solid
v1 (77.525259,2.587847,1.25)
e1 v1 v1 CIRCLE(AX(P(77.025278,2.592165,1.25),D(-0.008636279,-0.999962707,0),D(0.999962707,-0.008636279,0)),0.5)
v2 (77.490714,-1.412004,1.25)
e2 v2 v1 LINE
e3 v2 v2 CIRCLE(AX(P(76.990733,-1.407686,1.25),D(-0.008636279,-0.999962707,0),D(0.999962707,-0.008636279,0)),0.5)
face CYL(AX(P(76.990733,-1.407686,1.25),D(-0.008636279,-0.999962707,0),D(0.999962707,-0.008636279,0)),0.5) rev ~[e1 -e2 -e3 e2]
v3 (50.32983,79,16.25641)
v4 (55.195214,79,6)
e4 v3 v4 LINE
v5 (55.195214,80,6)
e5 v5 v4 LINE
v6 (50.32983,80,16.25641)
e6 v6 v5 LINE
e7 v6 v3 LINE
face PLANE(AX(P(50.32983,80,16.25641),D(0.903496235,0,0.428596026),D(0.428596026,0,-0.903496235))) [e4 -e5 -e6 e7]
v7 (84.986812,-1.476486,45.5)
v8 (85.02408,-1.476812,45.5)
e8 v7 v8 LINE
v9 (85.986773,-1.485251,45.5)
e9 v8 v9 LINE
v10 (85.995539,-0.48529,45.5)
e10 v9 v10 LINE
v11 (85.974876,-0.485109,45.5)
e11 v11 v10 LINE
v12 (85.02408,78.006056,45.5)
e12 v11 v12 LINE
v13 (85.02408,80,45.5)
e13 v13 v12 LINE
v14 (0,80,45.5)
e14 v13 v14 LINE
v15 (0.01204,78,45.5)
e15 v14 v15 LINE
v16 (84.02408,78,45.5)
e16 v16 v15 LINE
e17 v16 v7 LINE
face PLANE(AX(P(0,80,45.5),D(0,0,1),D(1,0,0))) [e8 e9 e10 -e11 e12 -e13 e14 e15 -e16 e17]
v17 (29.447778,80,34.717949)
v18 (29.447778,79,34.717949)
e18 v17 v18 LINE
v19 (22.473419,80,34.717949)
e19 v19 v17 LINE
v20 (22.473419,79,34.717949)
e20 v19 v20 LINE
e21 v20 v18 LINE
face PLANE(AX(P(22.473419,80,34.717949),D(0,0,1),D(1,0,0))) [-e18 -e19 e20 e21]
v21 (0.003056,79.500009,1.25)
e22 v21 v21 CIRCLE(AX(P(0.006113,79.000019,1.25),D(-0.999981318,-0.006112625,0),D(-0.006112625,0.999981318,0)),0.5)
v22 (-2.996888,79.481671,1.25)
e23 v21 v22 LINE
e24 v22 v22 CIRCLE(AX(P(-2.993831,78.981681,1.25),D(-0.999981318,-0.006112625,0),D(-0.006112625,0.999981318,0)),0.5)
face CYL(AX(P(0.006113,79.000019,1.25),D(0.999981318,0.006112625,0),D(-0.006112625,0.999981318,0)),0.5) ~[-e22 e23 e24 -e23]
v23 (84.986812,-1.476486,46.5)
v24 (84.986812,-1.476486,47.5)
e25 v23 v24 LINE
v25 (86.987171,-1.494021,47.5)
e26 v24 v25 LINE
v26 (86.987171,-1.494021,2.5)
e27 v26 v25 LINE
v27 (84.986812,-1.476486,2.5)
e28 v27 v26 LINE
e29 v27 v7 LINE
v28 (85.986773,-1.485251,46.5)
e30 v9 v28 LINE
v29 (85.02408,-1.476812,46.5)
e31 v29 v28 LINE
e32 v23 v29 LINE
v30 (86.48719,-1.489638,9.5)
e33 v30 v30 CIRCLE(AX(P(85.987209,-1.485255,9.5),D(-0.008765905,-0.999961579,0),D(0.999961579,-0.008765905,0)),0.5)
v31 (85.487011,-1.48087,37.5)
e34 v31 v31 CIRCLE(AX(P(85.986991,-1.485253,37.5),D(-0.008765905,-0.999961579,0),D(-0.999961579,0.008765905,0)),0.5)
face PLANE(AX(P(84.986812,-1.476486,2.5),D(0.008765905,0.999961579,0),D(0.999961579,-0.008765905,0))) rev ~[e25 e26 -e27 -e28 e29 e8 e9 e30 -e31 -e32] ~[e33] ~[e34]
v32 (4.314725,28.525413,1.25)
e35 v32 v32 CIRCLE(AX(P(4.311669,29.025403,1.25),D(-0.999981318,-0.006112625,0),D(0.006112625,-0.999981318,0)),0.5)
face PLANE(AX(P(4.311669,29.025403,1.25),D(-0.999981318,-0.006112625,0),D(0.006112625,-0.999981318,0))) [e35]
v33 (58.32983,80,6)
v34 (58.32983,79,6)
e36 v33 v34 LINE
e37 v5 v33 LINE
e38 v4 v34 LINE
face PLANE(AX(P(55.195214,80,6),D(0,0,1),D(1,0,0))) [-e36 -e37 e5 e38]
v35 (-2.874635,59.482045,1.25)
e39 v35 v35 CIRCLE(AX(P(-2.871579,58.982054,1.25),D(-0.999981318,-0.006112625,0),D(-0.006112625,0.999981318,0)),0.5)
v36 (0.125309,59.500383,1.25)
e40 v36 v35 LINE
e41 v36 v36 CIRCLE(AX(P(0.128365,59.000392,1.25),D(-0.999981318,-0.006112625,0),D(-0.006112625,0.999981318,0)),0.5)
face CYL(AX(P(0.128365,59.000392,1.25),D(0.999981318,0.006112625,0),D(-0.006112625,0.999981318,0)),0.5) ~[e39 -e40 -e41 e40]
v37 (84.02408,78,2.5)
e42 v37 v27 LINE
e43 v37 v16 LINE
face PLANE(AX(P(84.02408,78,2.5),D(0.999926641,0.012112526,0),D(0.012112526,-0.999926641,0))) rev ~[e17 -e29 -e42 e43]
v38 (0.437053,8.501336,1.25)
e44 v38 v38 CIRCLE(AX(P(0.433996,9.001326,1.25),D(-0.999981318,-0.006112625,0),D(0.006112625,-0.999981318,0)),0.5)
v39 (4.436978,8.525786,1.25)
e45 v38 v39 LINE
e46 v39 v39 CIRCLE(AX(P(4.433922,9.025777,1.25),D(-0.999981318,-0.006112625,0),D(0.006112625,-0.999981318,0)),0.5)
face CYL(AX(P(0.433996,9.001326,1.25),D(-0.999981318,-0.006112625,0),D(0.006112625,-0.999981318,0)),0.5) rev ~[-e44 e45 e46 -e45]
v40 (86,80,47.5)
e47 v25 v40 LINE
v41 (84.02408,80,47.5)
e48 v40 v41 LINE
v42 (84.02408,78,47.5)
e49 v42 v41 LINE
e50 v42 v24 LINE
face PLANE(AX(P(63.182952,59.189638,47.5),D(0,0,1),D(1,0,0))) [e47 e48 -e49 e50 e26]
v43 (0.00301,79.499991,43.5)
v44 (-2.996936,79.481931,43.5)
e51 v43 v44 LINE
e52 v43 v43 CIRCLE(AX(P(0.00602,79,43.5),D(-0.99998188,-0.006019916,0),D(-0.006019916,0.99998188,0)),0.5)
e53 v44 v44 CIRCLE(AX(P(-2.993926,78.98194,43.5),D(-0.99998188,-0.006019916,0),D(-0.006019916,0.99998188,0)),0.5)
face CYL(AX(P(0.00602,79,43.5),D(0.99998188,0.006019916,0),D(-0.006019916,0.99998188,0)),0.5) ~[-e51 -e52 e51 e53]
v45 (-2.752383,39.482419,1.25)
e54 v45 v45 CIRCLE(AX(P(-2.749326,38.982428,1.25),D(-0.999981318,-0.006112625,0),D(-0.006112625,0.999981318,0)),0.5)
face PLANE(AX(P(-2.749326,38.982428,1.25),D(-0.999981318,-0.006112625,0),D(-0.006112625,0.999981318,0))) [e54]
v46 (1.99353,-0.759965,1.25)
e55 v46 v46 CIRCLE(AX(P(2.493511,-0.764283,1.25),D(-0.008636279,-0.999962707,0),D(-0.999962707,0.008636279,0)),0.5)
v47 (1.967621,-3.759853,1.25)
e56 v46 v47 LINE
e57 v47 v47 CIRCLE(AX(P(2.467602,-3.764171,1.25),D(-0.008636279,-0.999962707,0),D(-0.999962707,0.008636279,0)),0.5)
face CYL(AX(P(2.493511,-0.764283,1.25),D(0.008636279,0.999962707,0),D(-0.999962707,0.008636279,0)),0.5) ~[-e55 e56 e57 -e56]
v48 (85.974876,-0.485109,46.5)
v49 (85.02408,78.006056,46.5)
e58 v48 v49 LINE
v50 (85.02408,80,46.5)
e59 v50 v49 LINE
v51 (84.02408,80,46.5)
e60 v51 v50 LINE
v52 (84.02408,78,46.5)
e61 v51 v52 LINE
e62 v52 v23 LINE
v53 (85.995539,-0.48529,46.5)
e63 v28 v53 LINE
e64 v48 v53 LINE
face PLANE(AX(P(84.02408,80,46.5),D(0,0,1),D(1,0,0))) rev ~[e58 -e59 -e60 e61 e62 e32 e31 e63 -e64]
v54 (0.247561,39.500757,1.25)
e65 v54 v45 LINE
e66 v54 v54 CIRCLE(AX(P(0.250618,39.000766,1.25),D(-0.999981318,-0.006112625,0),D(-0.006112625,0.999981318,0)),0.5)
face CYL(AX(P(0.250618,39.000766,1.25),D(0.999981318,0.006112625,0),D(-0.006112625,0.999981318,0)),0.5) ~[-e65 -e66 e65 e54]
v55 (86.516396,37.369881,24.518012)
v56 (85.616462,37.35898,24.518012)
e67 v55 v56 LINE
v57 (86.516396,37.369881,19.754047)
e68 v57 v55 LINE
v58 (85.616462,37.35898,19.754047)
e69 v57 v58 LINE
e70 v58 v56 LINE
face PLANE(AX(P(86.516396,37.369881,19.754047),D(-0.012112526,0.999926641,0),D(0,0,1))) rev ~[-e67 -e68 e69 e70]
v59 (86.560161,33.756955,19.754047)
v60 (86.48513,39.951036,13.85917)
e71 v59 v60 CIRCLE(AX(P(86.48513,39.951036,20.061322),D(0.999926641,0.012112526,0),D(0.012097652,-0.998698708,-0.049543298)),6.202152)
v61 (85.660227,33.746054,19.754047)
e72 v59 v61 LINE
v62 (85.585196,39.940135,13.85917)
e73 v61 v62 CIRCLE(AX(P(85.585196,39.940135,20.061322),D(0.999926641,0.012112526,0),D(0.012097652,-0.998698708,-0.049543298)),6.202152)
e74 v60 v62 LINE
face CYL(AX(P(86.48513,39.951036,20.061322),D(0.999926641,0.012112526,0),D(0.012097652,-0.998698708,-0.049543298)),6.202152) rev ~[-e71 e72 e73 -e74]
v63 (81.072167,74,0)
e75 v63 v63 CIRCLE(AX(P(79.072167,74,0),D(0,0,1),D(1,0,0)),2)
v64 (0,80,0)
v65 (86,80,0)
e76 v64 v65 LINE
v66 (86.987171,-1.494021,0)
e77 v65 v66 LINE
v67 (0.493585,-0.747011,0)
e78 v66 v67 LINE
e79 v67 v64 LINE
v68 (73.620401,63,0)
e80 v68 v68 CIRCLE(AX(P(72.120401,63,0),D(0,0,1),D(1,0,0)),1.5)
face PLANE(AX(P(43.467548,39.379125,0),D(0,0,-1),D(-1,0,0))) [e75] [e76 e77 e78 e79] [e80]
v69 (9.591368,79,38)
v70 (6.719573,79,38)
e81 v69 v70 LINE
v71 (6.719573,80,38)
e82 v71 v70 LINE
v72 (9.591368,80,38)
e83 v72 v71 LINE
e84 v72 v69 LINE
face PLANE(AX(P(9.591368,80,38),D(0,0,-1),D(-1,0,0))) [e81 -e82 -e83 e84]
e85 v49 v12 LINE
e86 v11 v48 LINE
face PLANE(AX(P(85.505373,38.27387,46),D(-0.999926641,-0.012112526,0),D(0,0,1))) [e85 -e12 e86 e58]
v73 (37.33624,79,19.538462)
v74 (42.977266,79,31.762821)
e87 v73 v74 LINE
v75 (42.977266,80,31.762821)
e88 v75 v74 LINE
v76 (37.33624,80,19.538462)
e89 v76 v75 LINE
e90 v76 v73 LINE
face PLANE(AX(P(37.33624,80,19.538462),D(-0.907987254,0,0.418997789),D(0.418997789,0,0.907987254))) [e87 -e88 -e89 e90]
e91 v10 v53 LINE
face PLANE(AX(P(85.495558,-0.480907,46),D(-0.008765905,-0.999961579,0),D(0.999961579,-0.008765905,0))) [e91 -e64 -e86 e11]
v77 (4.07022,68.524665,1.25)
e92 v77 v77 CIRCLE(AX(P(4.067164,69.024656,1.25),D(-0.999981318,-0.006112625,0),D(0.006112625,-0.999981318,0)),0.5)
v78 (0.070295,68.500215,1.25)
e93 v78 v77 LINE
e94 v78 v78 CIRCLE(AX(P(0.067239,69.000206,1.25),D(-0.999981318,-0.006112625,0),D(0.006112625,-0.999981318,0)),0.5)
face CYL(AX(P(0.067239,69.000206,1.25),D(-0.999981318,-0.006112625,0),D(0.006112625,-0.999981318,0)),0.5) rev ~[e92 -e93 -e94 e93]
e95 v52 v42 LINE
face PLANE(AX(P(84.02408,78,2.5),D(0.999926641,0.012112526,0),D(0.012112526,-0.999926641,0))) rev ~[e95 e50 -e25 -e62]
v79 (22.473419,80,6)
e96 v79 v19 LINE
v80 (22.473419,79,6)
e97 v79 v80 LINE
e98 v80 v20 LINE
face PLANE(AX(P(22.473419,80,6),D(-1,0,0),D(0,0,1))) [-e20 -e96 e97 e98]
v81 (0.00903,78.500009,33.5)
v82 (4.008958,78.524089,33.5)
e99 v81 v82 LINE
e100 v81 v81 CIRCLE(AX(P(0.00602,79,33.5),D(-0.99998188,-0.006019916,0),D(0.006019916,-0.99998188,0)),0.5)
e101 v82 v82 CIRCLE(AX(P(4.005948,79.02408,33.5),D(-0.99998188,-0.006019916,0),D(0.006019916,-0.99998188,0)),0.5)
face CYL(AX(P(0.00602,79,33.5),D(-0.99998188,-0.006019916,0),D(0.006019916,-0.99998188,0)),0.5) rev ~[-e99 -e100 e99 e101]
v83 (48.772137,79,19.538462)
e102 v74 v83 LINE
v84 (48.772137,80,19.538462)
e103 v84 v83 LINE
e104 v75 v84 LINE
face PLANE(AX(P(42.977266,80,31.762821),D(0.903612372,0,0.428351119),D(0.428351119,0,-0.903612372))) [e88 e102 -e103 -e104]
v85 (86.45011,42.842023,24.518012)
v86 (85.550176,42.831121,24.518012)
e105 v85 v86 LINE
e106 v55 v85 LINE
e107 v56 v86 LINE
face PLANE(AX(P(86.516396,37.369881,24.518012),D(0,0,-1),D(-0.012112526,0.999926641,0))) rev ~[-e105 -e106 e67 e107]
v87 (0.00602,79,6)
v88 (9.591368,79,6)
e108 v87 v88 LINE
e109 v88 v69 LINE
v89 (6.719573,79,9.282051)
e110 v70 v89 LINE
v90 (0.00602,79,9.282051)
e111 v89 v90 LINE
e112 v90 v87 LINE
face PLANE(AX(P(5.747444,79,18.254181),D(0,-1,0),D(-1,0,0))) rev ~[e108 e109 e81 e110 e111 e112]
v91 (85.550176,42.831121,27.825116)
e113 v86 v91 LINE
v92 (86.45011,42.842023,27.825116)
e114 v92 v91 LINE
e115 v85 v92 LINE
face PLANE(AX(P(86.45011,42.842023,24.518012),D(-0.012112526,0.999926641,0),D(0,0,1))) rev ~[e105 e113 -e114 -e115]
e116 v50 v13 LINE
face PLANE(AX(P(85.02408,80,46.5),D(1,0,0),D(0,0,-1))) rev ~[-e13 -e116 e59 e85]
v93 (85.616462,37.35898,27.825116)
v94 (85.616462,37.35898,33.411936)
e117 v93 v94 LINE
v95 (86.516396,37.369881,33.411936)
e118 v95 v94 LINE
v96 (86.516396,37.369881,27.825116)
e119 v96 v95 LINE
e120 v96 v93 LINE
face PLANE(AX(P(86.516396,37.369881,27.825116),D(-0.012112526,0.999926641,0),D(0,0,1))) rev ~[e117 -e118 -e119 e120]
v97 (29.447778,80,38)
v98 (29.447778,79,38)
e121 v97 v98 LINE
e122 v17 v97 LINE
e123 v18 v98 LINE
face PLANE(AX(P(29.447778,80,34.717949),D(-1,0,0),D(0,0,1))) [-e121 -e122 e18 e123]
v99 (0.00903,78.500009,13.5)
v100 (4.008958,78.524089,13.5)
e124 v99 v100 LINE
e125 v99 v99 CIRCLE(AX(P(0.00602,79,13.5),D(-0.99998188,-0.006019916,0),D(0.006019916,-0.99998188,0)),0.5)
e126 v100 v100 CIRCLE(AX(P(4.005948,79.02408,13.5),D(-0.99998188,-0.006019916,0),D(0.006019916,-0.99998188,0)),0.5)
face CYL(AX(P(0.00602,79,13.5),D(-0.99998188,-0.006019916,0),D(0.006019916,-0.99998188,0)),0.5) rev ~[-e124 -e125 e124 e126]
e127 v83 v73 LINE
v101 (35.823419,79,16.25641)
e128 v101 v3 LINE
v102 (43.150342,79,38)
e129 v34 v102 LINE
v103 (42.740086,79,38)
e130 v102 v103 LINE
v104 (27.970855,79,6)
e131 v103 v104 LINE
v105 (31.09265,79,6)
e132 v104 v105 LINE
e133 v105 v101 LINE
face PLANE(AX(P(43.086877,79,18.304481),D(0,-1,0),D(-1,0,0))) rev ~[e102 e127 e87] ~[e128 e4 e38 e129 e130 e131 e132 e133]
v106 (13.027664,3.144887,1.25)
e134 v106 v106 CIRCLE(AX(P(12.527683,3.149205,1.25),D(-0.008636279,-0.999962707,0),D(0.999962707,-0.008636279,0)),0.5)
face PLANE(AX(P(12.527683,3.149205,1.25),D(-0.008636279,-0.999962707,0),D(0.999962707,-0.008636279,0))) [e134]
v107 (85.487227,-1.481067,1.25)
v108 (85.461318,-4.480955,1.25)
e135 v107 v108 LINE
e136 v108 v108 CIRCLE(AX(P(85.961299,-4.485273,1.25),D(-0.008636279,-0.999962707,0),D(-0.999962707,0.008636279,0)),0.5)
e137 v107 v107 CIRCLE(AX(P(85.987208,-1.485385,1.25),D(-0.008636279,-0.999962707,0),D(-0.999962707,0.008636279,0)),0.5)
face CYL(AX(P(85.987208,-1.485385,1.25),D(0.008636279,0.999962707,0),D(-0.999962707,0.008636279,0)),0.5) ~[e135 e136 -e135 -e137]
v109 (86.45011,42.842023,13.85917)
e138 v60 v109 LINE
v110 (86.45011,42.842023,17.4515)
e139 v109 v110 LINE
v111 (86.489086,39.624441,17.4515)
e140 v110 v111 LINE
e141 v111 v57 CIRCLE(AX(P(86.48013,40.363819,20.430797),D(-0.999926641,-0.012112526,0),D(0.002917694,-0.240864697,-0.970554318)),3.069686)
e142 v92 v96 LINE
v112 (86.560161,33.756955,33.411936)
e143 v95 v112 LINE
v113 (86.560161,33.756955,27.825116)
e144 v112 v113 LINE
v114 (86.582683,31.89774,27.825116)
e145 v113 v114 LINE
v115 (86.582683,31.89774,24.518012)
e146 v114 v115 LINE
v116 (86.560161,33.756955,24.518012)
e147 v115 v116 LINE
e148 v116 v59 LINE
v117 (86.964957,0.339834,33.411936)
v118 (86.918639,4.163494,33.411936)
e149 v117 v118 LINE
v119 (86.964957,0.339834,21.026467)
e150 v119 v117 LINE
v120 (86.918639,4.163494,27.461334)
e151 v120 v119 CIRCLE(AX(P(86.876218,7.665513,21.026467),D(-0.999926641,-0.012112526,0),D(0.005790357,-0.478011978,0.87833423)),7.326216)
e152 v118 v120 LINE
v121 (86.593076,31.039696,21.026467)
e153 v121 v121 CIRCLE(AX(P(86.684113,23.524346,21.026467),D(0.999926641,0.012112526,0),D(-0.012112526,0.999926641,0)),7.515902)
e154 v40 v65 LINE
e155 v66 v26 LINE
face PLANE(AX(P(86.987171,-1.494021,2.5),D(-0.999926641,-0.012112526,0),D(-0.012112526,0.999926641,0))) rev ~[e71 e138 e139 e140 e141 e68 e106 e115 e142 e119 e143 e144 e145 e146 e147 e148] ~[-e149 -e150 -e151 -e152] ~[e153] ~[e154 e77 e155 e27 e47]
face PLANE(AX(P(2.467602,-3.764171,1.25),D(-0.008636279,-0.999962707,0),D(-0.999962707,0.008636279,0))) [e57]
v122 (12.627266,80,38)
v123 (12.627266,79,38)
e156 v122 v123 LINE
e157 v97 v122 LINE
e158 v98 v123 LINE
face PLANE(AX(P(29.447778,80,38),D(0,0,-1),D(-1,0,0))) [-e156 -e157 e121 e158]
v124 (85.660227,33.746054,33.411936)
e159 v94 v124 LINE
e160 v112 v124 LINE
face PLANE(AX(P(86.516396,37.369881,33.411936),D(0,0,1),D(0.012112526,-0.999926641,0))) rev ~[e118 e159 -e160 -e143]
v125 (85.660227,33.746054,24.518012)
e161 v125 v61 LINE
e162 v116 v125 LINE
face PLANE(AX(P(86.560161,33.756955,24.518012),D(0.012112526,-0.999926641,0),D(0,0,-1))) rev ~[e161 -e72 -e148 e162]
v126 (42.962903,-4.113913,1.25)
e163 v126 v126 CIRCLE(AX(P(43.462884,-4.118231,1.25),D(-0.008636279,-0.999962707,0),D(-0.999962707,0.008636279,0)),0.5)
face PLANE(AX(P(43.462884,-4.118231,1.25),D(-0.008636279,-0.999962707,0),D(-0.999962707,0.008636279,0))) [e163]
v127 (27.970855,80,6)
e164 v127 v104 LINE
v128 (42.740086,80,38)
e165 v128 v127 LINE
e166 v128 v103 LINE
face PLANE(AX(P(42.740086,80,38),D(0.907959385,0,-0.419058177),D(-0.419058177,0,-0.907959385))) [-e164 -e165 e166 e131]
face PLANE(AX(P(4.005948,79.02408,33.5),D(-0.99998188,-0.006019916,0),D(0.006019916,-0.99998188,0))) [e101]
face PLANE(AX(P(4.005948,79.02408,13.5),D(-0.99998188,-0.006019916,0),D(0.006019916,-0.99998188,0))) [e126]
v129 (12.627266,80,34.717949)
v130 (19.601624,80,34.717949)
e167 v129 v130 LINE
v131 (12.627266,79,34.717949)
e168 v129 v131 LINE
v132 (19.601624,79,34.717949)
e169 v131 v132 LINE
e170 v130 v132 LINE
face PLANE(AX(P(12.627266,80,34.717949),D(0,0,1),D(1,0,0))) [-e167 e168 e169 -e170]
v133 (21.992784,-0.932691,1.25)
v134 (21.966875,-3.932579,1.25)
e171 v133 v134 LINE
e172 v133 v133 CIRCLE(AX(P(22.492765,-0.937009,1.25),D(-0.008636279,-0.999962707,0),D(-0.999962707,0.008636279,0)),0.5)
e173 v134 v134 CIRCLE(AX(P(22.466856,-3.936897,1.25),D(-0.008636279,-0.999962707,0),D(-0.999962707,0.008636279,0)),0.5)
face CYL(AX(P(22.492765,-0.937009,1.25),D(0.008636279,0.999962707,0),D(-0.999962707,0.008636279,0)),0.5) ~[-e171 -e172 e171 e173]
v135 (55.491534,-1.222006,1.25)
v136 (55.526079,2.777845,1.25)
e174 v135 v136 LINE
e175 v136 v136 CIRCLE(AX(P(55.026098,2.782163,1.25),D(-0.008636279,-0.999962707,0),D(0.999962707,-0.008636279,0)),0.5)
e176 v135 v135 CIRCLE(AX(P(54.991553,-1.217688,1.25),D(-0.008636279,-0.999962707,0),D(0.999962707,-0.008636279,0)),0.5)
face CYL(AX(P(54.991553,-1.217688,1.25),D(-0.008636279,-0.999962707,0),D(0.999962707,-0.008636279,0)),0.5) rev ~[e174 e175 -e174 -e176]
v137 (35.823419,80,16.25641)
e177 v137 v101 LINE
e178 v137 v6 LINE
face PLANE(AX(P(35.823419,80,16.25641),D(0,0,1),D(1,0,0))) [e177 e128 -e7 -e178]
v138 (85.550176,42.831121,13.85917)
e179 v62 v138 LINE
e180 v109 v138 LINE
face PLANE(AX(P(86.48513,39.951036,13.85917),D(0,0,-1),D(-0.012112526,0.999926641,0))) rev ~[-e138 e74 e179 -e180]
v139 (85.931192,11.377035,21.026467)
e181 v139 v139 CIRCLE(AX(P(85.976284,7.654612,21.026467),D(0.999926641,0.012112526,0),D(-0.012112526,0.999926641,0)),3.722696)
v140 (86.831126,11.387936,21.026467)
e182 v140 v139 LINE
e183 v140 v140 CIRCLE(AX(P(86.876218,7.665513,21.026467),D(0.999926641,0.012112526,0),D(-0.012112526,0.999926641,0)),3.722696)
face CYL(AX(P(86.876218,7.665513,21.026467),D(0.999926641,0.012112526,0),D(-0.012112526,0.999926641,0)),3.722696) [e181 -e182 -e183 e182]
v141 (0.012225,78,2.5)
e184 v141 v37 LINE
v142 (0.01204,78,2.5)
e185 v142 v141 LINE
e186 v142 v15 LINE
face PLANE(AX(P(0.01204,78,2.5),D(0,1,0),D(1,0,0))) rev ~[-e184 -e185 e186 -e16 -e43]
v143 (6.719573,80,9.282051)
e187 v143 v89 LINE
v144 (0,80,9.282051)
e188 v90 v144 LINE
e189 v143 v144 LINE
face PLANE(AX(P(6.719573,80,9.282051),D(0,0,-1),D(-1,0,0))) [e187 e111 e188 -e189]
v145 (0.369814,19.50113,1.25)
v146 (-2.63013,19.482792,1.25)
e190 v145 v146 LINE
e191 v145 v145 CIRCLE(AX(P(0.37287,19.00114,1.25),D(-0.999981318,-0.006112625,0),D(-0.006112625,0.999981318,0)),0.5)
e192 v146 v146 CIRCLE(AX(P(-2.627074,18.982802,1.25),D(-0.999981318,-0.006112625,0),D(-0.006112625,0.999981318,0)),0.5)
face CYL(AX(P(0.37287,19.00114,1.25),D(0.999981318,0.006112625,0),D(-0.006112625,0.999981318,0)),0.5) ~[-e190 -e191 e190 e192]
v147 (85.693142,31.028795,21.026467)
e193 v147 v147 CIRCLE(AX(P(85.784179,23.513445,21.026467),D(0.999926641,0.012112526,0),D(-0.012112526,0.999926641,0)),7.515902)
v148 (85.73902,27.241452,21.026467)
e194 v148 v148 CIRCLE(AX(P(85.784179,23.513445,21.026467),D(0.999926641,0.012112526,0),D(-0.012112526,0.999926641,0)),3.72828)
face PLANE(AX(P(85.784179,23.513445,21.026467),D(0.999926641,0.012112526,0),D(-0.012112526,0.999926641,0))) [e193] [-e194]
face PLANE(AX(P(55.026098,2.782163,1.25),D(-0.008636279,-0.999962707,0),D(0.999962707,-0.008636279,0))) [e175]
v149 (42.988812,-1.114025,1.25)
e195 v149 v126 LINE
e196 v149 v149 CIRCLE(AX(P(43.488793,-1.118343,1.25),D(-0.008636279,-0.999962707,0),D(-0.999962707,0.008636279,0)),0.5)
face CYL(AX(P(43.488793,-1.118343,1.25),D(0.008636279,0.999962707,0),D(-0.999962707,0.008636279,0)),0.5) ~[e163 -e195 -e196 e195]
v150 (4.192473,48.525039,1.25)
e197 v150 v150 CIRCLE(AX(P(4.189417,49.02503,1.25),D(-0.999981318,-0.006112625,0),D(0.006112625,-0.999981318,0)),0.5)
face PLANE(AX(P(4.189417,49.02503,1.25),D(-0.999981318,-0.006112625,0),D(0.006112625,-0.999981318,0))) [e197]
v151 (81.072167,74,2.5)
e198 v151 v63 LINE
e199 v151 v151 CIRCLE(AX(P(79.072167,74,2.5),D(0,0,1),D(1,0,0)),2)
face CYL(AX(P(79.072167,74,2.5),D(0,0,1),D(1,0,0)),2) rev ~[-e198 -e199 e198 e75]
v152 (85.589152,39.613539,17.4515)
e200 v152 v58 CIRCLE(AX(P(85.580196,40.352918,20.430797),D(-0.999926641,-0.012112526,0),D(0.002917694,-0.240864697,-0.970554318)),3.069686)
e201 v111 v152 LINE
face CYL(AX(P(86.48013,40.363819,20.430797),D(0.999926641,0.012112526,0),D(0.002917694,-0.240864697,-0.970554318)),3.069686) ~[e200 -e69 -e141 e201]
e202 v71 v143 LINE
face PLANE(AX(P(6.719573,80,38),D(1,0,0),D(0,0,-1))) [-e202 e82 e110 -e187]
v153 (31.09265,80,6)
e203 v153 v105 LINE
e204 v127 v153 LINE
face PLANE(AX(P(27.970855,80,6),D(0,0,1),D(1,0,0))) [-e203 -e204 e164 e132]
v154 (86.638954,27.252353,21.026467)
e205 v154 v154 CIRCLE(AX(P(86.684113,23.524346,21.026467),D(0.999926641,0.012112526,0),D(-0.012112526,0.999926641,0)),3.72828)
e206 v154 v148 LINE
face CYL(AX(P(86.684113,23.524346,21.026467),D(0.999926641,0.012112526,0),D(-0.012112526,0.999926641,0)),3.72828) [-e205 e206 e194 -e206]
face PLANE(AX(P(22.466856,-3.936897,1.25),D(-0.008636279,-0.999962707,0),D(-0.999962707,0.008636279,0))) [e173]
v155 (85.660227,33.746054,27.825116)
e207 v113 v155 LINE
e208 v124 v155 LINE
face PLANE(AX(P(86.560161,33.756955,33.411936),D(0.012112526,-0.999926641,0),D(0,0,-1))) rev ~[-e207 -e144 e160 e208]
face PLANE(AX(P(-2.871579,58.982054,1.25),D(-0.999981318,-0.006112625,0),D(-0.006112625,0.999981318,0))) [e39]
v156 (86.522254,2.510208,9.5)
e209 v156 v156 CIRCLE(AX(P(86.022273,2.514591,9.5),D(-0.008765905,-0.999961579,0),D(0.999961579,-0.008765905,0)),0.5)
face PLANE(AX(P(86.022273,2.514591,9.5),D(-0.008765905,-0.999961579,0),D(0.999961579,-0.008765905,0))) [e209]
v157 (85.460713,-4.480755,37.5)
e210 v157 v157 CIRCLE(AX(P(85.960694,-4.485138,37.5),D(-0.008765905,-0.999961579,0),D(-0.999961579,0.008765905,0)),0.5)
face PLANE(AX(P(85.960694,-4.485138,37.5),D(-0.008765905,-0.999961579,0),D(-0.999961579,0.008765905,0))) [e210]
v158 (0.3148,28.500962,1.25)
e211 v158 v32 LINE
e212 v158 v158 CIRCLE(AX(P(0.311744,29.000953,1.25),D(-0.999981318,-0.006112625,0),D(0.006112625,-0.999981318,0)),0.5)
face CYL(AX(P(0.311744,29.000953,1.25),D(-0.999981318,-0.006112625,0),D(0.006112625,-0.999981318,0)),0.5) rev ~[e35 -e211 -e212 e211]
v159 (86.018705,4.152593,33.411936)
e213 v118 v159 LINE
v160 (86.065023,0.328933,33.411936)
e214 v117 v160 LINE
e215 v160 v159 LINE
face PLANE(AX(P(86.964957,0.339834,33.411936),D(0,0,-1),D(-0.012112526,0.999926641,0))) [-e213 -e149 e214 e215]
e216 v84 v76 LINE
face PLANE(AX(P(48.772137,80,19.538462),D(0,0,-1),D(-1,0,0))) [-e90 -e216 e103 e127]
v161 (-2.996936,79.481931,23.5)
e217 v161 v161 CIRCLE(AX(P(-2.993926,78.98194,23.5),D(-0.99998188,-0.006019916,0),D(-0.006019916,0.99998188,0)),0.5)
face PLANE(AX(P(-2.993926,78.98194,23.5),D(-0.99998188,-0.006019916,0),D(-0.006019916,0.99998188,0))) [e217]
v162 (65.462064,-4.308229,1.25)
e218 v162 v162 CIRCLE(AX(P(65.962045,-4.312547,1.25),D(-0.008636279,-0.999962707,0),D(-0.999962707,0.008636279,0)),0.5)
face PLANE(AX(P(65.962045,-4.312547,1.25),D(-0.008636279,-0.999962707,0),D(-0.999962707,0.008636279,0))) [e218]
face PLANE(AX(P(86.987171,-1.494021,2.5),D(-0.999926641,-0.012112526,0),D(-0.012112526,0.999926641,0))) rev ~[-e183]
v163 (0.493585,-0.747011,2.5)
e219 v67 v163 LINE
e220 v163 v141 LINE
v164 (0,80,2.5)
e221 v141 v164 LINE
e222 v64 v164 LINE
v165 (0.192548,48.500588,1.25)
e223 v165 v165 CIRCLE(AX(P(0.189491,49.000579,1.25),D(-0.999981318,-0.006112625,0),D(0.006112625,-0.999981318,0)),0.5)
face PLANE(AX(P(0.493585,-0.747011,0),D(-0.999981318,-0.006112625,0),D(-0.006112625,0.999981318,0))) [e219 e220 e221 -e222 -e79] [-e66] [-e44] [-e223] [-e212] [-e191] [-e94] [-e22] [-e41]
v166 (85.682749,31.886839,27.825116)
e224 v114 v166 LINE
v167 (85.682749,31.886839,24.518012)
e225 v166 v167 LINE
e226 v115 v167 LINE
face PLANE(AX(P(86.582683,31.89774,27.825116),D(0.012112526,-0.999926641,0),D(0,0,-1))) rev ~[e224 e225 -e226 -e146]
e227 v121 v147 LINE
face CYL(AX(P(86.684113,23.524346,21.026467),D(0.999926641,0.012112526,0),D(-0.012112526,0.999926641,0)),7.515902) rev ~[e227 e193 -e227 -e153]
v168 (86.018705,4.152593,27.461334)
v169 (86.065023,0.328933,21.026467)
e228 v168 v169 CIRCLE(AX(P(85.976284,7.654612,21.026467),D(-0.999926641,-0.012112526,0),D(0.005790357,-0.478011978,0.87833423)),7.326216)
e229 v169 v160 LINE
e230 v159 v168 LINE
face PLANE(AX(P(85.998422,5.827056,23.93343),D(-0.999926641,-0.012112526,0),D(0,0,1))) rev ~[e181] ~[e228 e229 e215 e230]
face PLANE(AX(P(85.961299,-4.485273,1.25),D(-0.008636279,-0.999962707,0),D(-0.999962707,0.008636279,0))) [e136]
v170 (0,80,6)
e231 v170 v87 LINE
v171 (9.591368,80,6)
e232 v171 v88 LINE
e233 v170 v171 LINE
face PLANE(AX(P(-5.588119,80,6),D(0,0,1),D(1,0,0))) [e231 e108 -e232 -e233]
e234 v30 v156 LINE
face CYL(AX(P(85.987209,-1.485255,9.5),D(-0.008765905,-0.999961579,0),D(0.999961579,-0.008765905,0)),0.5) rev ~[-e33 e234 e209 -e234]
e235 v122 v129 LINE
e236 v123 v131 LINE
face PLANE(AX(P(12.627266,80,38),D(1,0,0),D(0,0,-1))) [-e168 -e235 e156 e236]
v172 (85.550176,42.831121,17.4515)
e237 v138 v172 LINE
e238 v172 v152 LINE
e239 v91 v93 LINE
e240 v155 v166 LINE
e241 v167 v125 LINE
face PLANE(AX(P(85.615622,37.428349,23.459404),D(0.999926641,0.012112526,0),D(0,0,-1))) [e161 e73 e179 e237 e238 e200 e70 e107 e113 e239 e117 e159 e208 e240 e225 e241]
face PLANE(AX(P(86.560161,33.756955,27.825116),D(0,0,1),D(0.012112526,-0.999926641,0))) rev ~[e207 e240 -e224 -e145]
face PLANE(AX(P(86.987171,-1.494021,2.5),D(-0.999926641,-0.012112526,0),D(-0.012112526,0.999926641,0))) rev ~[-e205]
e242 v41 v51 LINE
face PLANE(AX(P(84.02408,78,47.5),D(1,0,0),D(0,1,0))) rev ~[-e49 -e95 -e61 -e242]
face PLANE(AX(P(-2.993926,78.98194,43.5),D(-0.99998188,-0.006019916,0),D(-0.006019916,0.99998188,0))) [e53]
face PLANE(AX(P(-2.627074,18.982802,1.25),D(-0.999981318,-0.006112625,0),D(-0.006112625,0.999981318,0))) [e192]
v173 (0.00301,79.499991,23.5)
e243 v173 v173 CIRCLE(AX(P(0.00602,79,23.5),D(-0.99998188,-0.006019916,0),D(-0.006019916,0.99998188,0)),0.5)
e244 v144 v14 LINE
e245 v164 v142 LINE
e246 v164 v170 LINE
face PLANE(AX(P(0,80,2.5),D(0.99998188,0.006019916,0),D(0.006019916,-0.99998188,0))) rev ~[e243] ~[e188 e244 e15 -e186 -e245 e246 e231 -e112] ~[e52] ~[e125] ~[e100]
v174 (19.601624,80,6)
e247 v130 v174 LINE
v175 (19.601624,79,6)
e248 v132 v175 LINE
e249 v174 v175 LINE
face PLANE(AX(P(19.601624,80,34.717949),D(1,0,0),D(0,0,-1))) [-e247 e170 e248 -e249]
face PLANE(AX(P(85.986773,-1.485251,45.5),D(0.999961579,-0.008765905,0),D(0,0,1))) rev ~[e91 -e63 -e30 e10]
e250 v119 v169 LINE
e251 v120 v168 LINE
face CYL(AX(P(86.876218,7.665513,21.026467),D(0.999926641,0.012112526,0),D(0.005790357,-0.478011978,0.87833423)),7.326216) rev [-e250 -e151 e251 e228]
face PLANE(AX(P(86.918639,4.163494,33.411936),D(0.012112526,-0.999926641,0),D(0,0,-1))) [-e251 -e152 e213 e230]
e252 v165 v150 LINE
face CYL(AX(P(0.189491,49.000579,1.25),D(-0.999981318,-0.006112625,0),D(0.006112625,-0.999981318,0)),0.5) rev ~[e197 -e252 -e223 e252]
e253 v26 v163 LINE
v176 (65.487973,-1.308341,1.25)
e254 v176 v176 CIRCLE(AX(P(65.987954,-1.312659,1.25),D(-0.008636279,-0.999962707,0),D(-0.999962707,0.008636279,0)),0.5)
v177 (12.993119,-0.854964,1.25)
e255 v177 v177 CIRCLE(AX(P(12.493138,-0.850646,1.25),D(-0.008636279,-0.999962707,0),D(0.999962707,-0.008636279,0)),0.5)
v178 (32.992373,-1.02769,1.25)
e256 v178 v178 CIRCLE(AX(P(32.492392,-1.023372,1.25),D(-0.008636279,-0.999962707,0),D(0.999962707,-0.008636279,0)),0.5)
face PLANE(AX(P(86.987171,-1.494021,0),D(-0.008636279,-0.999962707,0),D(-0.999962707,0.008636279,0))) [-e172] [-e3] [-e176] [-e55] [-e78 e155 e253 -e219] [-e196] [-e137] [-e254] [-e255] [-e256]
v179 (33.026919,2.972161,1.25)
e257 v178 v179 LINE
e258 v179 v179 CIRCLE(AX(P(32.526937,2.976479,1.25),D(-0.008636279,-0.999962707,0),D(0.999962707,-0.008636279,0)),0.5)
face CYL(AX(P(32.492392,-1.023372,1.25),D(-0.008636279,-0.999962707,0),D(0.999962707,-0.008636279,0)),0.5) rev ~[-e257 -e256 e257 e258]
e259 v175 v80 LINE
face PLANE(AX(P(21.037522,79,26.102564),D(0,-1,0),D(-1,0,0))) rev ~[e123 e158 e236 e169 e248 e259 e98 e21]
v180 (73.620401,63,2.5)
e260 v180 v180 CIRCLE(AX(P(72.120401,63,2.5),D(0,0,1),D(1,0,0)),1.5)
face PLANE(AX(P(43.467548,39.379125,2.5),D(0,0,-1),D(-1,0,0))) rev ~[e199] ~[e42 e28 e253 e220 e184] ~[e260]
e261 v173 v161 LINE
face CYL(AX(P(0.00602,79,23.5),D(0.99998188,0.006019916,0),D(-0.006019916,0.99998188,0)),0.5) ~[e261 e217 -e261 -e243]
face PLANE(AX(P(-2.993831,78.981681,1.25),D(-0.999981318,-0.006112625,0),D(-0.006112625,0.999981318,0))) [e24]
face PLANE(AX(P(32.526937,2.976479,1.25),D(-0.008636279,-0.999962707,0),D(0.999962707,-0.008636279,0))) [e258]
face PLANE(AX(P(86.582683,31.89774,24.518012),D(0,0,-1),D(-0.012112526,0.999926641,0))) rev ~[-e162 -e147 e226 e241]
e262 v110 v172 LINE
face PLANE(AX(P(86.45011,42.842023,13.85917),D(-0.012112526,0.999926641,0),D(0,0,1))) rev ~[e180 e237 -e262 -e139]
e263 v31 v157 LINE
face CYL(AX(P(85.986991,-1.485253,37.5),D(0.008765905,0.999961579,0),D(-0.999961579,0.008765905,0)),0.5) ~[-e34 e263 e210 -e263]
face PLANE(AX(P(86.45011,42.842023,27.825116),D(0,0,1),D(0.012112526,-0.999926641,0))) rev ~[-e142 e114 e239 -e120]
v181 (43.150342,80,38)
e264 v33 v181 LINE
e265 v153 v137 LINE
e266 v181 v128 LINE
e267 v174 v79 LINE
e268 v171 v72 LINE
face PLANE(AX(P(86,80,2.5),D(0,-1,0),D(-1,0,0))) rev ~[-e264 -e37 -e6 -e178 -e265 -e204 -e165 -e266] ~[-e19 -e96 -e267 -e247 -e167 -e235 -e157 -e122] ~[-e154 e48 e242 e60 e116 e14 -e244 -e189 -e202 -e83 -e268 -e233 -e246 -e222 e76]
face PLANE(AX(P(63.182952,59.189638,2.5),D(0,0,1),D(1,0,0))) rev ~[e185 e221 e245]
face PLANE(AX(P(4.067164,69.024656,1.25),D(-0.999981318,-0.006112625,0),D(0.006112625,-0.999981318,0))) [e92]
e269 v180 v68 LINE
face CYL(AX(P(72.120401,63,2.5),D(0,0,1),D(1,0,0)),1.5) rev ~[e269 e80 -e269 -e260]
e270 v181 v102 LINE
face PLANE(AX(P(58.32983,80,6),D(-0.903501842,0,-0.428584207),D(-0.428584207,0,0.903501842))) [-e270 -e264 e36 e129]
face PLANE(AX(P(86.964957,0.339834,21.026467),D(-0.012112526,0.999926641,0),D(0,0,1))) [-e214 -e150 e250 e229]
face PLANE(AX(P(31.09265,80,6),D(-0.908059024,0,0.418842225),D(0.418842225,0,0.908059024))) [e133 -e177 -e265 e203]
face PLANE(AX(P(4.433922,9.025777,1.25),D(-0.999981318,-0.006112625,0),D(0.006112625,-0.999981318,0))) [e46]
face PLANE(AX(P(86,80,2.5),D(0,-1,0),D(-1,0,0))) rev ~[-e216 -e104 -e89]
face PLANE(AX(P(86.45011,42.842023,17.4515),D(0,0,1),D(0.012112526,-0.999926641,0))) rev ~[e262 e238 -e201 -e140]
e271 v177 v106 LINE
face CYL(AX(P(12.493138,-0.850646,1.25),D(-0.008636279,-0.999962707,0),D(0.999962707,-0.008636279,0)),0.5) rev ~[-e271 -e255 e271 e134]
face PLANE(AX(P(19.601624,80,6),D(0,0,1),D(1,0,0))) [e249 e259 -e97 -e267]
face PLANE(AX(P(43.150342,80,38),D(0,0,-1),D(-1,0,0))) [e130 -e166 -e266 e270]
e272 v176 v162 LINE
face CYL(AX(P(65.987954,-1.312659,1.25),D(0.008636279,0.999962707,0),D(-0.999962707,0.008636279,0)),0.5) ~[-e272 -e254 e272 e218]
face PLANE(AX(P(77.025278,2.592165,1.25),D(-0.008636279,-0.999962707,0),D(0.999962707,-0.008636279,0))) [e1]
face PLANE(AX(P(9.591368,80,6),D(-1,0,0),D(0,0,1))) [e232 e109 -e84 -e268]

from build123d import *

# Parameters (mm, degrees)
SALIENTE_EXTRUIR1_DEPTH = 2.5
SALIENTE_EXTRUIR2_DEPTH = 45
CROQUIS17_R             = 2
CROQUIS17_R_2           = 1.5
CORTAR_EXTRUIR1_DEPTH   = 45
CROQUIS18_R             = 0.5
SALIENTE_EXTRUIR3_DEPTH = 3
CROQUIS19_W             = 84
CROQUIS19_H             = 2
CORTAR_EXTRUIR2_DEPTH   = 10
CROQUIS24_W             = 0.024080101
CROQUIS24_H             = 2
CORTAR_EXTRUIR11_DEPTH  = 2
CROQUIS30_W             = 1
CROQUIS30_H             = 1
CORTAR_EXTRUIR12_DEPTH  = 101
CROQUIS32_W             = 1
CROQUIS32_H             = 79.482316352
CORTAR_EXTRUIR13_DEPTH  = 1
CROQUIS33_W             = 1
CROQUIS33_H             = 1
CORTAR_EXTRUIR14_DEPTH  = 1
CROQUIS35_R             = 0.5
SALIENTE_EXTRUIR4_DEPTH = 3
CROQUIS37_R             = 0.5
CORTAR_EXTRUIR15_DEPTH  = 4
CROQUIS38_R             = 0.5
CORTAR_EXTRUIR16_DEPTH  = 4
CORTAR_EXTRUIR17_DEPTH  = 1
CROQUIS40_R             = 7.515901536
CROQUIS40_R_2           = 3.728280466
CROQUIS40_R_3           = 3.722695871
CORTAR_EXTRUIR19_DEPTH  = 0.9
CROQUIS41_R             = 0.5
SALIENTE_EXTRUIR5_DEPTH = 3
CROQUIS42_R             = 0.5
SALIENTE_EXTRUIR6_DEPTH = 3
CROQUIS45_R             = 0.5
CORTAR_EXTRUIR22_DEPTH  = 4
CROQUIS46_R             = 0.5
CORTAR_EXTRUIR23_DEPTH  = 4


with BuildPart() as part:
    # Croquis15 → Saliente-Extruir1 (new body)
    with BuildSketch(Plane.XY):
        Polygon((0, 80), (86, 80), (86.987170897, -1.494021214), (0.493585448, -0.747010607), align=None)
    extrude(amount=SALIENTE_EXTRUIR1_DEPTH)

    # Croquis16 → Saliente-Extruir2 (add)
    with BuildSketch(Plane.XY.offset(2.5)):
        Polygon((0, 80), (0.01204005, 78), (84.024080101, 78), (84.986811751, -1.476485582), (86.987170897, -1.494021214), (86, 80), align=None)
    extrude(amount=SALIENTE_EXTRUIR2_DEPTH)

    # Croquis17 → Cortar-Extruir1 (cut)
    with BuildSketch(Plane.XY.offset(2.5)):
        with Locations((79.072166937, 74)):
            Circle(CROQUIS17_R)
        with Locations((72.120400503, 63)):
            Circle(CROQUIS17_R_2)
    extrude(amount=-CORTAR_EXTRUIR1_DEPTH, mode=Mode.SUBTRACT)

    # Croquis18 → Saliente-Extruir3 (add)
    with BuildSketch(Plane(origin=(-0.006414337, -0.742692308, 0), x_dir=(0.9999627066458414, -0.008636279148040384, 0), z_dir=(-0.008636279148040384, -0.9999627066458414, 0))):
        with Locations(Location((2.500018433, 1.25, 0), (0, 0, 180))):
            Circle(CROQUIS18_R)
        with Locations(Location((85.996829638, 1.25, 0), (0, 0, 180))):
            Circle(CROQUIS18_R)
        with Locations(Location((22.500018433, 1.25, 0), (0, 0, 180))):
            Circle(CROQUIS18_R)
        with Locations(Location((65.996829638, 1.25, 0), (0, 0, 180))):
            Circle(CROQUIS18_R)
        with Locations(Location((43.496829638, 1.25, 0), (0, 0, 180))):
            Circle(CROQUIS18_R)
    extrude(amount=SALIENTE_EXTRUIR3_DEPTH)

    # Croquis19 → Cortar-Extruir2 (cut)
    with BuildSketch(Plane(origin=(0, 80, 0), x_dir=(1, 0, 0), z_dir=(0, 1, 0))):
        with Locations((42, -46.5)):
            Rectangle(CROQUIS19_W, CROQUIS19_H)
    extrude(amount=-CORTAR_EXTRUIR2_DEPTH, mode=Mode.SUBTRACT)

    # Croquis24 → Cortar-Extruir11 (cut)
    with BuildSketch(Plane.XY.offset(47.5)):
        with Locations((84.012040051, 79)):
            Rectangle(CROQUIS24_W, CROQUIS24_H)
    extrude(amount=-CORTAR_EXTRUIR11_DEPTH, mode=Mode.SUBTRACT)

    # Croquis30 → Cortar-Extruir12 (cut)
    with BuildSketch(Plane(origin=(0, 80, 0), x_dir=(1, 0, 0), z_dir=(0, 1, 0))):
        with Locations((84.524080101, -46)):
            Rectangle(CROQUIS30_W, CROQUIS30_H)
    extrude(amount=-CORTAR_EXTRUIR12_DEPTH, mode=Mode.SUBTRACT)

    # Croquis32 → Cortar-Extruir13 (cut)
    with BuildSketch(Plane(origin=(84.956460397, 1.029112859, 0), x_dir=(0, 0, 1), z_dir=(-0.9999266406620362, -0.01211252633991657, 0))):
        with Locations((46, 37.235375912)):
            Rectangle(CROQUIS32_W, CROQUIS32_H)
    extrude(amount=-CORTAR_EXTRUIR13_DEPTH, mode=Mode.SUBTRACT)

    # Croquis33 → Cortar-Extruir14 (cut)
    with BuildSketch(Plane(origin=(-0.006411756, -0.731414451, 0), x_dir=(0.9999615787185102, -0.008765904789859459, 0), z_dir=(-0.008765904789859457, -0.9999615787185101, 0))):
        with Locations((85.496489181, 46)):
            Rectangle(CROQUIS33_W, CROQUIS33_H)
    extrude(amount=-CORTAR_EXTRUIR14_DEPTH, mode=Mode.SUBTRACT)

    # Croquis35 → Saliente-Extruir4 (add)
    with BuildSketch(Plane(origin=(-0.006411756, -0.731414451, 0), x_dir=(0.9999615787185102, -0.008765904789859459, 0), z_dir=(-0.008765904789859457, -0.9999615787185101, 0))):
        with Locations(Location((85.996707183, 37.5, 0), (0, 0, 180))):
            Circle(CROQUIS35_R)
    extrude(amount=SALIENTE_EXTRUIR4_DEPTH)

    # Croquis37 → Cortar-Extruir15 (cut)
    with BuildSketch(Plane(origin=(-0.006411756, -0.731414451, 0), x_dir=(0.9999615787185102, -0.008765904789859459, 0), z_dir=(-0.008765904789859457, -0.9999615787185101, 0))):
        with Locations((85.996925186, 9.5)):
            Circle(CROQUIS37_R)
    extrude(amount=-CORTAR_EXTRUIR15_DEPTH, mode=Mode.SUBTRACT)

    # Croquis38 → Cortar-Extruir16 (cut)
    with BuildSketch(Plane(origin=(-0.006414337, -0.742692308, 0), x_dir=(0.9999627066458414, -0.008636279148040382, 0), z_dir=(-0.008636279148040382, -0.9999627066458414, 0))):
        with Locations((12.500018433, 1.25)):
            Circle(CROQUIS38_R)
        with Locations((32.500018433, 1.25)):
            Circle(CROQUIS38_R)
        with Locations((55.000018433, 1.25)):
            Circle(CROQUIS38_R)
        with Locations((77.000018433, 1.25)):
            Circle(CROQUIS38_R)
    extrude(amount=-CORTAR_EXTRUIR16_DEPTH, mode=Mode.SUBTRACT)

    # Croquis39 → Cortar-Extruir17 (cut)
    # profile 1 of 3: a face of its own
    with BuildSketch(Plane(origin=(0, 80, 0), x_dir=(1, 0, 0), z_dir=(0, 1, 0))):
        Polygon((42.740086015, -38), (27.970855246, -6), (31.092650117, -6), (35.823419348, -16.256410256), (50.329829605, -16.256410256), (55.19521422, -6), (58.329829605, -6), (43.150342425, -38), align=None)
        Polygon((42.977265502, -31.762820513), (48.772137297, -19.538461538), (37.336239861, -19.538461538), align=None, mode=Mode.SUBTRACT)
    # profile 2 of 3: a face of its own
    with BuildSketch(Plane(origin=(0, 80, 0), x_dir=(1, 0, 0), z_dir=(0, 1, 0))):
        Polygon((29.447778323, -34.717948718), (29.447778323, -38), (12.627265502, -38), (12.627265502, -34.717948718), (19.601624476, -34.717948718), (19.601624476, -6), (22.473419348, -6), (22.473419348, -34.717948718), align=None)
    # profile 3 of 3: a face of its own
    with BuildSketch(Plane(origin=(0, 80, 0), x_dir=(1, 0, 0), z_dir=(0, 1, 0))):
        Polygon((9.591368066, -38), (6.719573194, -38), (6.719573194, -9.282051282), (-5.588119113, -9.282051282), (-5.588119113, -6), (9.591368066, -6), align=None)
    extrude(amount=-CORTAR_EXTRUIR17_DEPTH, mode=Mode.SUBTRACT)

    # Croquis40 → Cortar-Extruir19 (cut)
    # profile 1 of 3: a face of its own
    with BuildSketch(Plane(origin=(86.956313679, 1.053337912, 0), x_dir=(0, 0, -1), z_dir=(0.9999266406620362, 0.012112526339916658, 0))):
        with Locations(Location((-21.026467212, 22.472656931, 0), (0, 0, 90))):
            Circle(CROQUIS40_R)
        with Locations(Location((-21.026467212, 22.472656931, 0), (0, 0, 90))):
            Circle(CROQUIS40_R_2, mode=Mode.SUBTRACT)
    # profile 2 of 3: a face of its own
    with BuildSketch(Plane(origin=(86.956313679, 1.053337912, 0), x_dir=(0, 0, -1), z_dir=(0.9999266406620362, 0.012112526339916658, 0))):
        with BuildLine():
            Line((-21.026467212, -0.713555766), (-33.411935882, -0.713555766))
            Line((-33.411935882, -0.713555766), (-33.411935882, 3.110384386))
            Line((-33.411935882, 3.110384386), (-27.461333641, 3.110384386))
            ThreePointArc((-27.461333641, 3.110384386), (-17.28380692, 12.910750348), (-21.026467212, -0.713555766))
        make_face()
        with Locations(Location((-21.026467212, 6.612660391, 0), (0, 0, 90))):
            Circle(CROQUIS40_R_3, mode=Mode.SUBTRACT)
    # profile 3 of 3: a face of its own
    with BuildSketch(Plane(origin=(86.956313679, 1.053337912, 0), x_dir=(0, 0, -1), z_dir=(0.9999266406620362, 0.012112526339916658, 0))):
        with BuildLine():
            Line((-24.518011858, 36.31920775), (-24.518011858, 41.791750463))
            Line((-24.518011858, 41.791750463), (-27.82511635, 41.791750463))
            Line((-27.82511635, 41.791750463), (-27.82511635, 36.31920775))
            Line((-27.82511635, 36.31920775), (-33.411935882, 36.31920775))
            Line((-33.411935882, 36.31920775), (-33.411935882, 32.706016439))
            Line((-33.411935882, 32.706016439), (-27.82511635, 32.706016439))
            Line((-27.82511635, 32.706016439), (-27.82511635, 30.846665037))
            Line((-27.82511635, 30.846665037), (-24.518011858, 30.846665037))
            Line((-24.518011858, 30.846665037), (-24.518011858, 32.706016439))
            Line((-24.518011858, 32.706016439), (-19.754047189, 32.706016439))
            ThreePointArc((-19.754047189, 32.706016439), (-15.568413472, 34.624986495), (-13.859170054, 38.900552261))
            Line((-13.859170054, 38.900552261), (-13.859170054, 41.791750463))
            Line((-13.859170054, 41.791750463), (-17.451500124, 41.791750463))
            Line((-17.451500124, 41.791750463), (-17.451500124, 38.573932348))
            ThreePointArc((-17.451500124, 38.573932348), (-18.28309704, 37.120113126), (-19.754047189, 36.31920775))
            Line((-19.754047189, 36.31920775), (-24.518011858, 36.31920775))
        make_face()
    extrude(amount=-CORTAR_EXTRUIR19_DEPTH, mode=Mode.SUBTRACT)

    # Croquis41 → Saliente-Extruir5 (add)
    with BuildSketch(Plane(origin=(0.489000895, 0.002989135, 0), x_dir=(0, 0, 1), z_dir=(-0.9999813177309185, -0.006112625388175003, 0))):
        with Locations(Location((1.25, 78.998505418, 0), (0, 0, 90))):
            Circle(CROQUIS41_R)
        with Locations(Location((1.25, 58.998505418, 0), (0, 0, 90))):
            Circle(CROQUIS41_R)
        with Locations(Location((1.25, 38.998505418, 0), (0, 0, 90))):
            Circle(CROQUIS41_R)
        with Locations(Location((1.25, 18.998505418, 0), (0, 0, 90))):
            Circle(CROQUIS41_R)
    extrude(amount=SALIENTE_EXTRUIR5_DEPTH)

    # Croquis42 → Saliente-Extruir6 (add)
    with BuildSketch(Plane(origin=(0.481584557, 0.002899151, 0), x_dir=(0, 0, 1), z_dir=(-0.9999818801412468, -0.006019916044037572, 0))):
        with Locations(Location((43.5, 78.998532291, 0), (0, 0, 90))):
            Circle(CROQUIS42_R)
        with Locations(Location((23.5, 78.998532291, 0), (0, 0, 90))):
            Circle(CROQUIS42_R)
    extrude(amount=SALIENTE_EXTRUIR6_DEPTH)

    # Croquis45 → Cortar-Extruir22 (cut)
    with BuildSketch(Plane(origin=(0.481584557, 0.002899151, 0), x_dir=(0, 0, 1), z_dir=(-0.9999818801412468, -0.006019916044037572, 0))):
        with Locations(Location((33.5, 78.998532291, 0), (0, 0, 270))):
            Circle(CROQUIS45_R)
        with Locations(Location((13.5, 78.998532291, 0), (0, 0, 270))):
            Circle(CROQUIS45_R)
    extrude(amount=-CORTAR_EXTRUIR22_DEPTH, mode=Mode.SUBTRACT)

    # Croquis46 → Cortar-Extruir23 (cut)
    with BuildSketch(Plane(origin=(0.489000895, 0.002989135, 0), x_dir=(0, 0, 1), z_dir=(-0.9999813177309185, -0.006112625388175003, 0))):
        with Locations(Location((1.25, 68.998505418, 0), (0, 0, 270))):
            Circle(CROQUIS46_R)
        with Locations(Location((1.25, 48.998505418, 0), (0, 0, 270))):
            Circle(CROQUIS46_R)
        with Locations(Location((1.25, 28.998505418, 0), (0, 0, 270))):
            Circle(CROQUIS46_R)
        with Locations(Location((1.25, 8.998505418, 0), (0, 0, 270))):
            Circle(CROQUIS46_R)
    extrude(amount=-CORTAR_EXTRUIR23_DEPTH, mode=Mode.SUBTRACT)


solid = part.part
